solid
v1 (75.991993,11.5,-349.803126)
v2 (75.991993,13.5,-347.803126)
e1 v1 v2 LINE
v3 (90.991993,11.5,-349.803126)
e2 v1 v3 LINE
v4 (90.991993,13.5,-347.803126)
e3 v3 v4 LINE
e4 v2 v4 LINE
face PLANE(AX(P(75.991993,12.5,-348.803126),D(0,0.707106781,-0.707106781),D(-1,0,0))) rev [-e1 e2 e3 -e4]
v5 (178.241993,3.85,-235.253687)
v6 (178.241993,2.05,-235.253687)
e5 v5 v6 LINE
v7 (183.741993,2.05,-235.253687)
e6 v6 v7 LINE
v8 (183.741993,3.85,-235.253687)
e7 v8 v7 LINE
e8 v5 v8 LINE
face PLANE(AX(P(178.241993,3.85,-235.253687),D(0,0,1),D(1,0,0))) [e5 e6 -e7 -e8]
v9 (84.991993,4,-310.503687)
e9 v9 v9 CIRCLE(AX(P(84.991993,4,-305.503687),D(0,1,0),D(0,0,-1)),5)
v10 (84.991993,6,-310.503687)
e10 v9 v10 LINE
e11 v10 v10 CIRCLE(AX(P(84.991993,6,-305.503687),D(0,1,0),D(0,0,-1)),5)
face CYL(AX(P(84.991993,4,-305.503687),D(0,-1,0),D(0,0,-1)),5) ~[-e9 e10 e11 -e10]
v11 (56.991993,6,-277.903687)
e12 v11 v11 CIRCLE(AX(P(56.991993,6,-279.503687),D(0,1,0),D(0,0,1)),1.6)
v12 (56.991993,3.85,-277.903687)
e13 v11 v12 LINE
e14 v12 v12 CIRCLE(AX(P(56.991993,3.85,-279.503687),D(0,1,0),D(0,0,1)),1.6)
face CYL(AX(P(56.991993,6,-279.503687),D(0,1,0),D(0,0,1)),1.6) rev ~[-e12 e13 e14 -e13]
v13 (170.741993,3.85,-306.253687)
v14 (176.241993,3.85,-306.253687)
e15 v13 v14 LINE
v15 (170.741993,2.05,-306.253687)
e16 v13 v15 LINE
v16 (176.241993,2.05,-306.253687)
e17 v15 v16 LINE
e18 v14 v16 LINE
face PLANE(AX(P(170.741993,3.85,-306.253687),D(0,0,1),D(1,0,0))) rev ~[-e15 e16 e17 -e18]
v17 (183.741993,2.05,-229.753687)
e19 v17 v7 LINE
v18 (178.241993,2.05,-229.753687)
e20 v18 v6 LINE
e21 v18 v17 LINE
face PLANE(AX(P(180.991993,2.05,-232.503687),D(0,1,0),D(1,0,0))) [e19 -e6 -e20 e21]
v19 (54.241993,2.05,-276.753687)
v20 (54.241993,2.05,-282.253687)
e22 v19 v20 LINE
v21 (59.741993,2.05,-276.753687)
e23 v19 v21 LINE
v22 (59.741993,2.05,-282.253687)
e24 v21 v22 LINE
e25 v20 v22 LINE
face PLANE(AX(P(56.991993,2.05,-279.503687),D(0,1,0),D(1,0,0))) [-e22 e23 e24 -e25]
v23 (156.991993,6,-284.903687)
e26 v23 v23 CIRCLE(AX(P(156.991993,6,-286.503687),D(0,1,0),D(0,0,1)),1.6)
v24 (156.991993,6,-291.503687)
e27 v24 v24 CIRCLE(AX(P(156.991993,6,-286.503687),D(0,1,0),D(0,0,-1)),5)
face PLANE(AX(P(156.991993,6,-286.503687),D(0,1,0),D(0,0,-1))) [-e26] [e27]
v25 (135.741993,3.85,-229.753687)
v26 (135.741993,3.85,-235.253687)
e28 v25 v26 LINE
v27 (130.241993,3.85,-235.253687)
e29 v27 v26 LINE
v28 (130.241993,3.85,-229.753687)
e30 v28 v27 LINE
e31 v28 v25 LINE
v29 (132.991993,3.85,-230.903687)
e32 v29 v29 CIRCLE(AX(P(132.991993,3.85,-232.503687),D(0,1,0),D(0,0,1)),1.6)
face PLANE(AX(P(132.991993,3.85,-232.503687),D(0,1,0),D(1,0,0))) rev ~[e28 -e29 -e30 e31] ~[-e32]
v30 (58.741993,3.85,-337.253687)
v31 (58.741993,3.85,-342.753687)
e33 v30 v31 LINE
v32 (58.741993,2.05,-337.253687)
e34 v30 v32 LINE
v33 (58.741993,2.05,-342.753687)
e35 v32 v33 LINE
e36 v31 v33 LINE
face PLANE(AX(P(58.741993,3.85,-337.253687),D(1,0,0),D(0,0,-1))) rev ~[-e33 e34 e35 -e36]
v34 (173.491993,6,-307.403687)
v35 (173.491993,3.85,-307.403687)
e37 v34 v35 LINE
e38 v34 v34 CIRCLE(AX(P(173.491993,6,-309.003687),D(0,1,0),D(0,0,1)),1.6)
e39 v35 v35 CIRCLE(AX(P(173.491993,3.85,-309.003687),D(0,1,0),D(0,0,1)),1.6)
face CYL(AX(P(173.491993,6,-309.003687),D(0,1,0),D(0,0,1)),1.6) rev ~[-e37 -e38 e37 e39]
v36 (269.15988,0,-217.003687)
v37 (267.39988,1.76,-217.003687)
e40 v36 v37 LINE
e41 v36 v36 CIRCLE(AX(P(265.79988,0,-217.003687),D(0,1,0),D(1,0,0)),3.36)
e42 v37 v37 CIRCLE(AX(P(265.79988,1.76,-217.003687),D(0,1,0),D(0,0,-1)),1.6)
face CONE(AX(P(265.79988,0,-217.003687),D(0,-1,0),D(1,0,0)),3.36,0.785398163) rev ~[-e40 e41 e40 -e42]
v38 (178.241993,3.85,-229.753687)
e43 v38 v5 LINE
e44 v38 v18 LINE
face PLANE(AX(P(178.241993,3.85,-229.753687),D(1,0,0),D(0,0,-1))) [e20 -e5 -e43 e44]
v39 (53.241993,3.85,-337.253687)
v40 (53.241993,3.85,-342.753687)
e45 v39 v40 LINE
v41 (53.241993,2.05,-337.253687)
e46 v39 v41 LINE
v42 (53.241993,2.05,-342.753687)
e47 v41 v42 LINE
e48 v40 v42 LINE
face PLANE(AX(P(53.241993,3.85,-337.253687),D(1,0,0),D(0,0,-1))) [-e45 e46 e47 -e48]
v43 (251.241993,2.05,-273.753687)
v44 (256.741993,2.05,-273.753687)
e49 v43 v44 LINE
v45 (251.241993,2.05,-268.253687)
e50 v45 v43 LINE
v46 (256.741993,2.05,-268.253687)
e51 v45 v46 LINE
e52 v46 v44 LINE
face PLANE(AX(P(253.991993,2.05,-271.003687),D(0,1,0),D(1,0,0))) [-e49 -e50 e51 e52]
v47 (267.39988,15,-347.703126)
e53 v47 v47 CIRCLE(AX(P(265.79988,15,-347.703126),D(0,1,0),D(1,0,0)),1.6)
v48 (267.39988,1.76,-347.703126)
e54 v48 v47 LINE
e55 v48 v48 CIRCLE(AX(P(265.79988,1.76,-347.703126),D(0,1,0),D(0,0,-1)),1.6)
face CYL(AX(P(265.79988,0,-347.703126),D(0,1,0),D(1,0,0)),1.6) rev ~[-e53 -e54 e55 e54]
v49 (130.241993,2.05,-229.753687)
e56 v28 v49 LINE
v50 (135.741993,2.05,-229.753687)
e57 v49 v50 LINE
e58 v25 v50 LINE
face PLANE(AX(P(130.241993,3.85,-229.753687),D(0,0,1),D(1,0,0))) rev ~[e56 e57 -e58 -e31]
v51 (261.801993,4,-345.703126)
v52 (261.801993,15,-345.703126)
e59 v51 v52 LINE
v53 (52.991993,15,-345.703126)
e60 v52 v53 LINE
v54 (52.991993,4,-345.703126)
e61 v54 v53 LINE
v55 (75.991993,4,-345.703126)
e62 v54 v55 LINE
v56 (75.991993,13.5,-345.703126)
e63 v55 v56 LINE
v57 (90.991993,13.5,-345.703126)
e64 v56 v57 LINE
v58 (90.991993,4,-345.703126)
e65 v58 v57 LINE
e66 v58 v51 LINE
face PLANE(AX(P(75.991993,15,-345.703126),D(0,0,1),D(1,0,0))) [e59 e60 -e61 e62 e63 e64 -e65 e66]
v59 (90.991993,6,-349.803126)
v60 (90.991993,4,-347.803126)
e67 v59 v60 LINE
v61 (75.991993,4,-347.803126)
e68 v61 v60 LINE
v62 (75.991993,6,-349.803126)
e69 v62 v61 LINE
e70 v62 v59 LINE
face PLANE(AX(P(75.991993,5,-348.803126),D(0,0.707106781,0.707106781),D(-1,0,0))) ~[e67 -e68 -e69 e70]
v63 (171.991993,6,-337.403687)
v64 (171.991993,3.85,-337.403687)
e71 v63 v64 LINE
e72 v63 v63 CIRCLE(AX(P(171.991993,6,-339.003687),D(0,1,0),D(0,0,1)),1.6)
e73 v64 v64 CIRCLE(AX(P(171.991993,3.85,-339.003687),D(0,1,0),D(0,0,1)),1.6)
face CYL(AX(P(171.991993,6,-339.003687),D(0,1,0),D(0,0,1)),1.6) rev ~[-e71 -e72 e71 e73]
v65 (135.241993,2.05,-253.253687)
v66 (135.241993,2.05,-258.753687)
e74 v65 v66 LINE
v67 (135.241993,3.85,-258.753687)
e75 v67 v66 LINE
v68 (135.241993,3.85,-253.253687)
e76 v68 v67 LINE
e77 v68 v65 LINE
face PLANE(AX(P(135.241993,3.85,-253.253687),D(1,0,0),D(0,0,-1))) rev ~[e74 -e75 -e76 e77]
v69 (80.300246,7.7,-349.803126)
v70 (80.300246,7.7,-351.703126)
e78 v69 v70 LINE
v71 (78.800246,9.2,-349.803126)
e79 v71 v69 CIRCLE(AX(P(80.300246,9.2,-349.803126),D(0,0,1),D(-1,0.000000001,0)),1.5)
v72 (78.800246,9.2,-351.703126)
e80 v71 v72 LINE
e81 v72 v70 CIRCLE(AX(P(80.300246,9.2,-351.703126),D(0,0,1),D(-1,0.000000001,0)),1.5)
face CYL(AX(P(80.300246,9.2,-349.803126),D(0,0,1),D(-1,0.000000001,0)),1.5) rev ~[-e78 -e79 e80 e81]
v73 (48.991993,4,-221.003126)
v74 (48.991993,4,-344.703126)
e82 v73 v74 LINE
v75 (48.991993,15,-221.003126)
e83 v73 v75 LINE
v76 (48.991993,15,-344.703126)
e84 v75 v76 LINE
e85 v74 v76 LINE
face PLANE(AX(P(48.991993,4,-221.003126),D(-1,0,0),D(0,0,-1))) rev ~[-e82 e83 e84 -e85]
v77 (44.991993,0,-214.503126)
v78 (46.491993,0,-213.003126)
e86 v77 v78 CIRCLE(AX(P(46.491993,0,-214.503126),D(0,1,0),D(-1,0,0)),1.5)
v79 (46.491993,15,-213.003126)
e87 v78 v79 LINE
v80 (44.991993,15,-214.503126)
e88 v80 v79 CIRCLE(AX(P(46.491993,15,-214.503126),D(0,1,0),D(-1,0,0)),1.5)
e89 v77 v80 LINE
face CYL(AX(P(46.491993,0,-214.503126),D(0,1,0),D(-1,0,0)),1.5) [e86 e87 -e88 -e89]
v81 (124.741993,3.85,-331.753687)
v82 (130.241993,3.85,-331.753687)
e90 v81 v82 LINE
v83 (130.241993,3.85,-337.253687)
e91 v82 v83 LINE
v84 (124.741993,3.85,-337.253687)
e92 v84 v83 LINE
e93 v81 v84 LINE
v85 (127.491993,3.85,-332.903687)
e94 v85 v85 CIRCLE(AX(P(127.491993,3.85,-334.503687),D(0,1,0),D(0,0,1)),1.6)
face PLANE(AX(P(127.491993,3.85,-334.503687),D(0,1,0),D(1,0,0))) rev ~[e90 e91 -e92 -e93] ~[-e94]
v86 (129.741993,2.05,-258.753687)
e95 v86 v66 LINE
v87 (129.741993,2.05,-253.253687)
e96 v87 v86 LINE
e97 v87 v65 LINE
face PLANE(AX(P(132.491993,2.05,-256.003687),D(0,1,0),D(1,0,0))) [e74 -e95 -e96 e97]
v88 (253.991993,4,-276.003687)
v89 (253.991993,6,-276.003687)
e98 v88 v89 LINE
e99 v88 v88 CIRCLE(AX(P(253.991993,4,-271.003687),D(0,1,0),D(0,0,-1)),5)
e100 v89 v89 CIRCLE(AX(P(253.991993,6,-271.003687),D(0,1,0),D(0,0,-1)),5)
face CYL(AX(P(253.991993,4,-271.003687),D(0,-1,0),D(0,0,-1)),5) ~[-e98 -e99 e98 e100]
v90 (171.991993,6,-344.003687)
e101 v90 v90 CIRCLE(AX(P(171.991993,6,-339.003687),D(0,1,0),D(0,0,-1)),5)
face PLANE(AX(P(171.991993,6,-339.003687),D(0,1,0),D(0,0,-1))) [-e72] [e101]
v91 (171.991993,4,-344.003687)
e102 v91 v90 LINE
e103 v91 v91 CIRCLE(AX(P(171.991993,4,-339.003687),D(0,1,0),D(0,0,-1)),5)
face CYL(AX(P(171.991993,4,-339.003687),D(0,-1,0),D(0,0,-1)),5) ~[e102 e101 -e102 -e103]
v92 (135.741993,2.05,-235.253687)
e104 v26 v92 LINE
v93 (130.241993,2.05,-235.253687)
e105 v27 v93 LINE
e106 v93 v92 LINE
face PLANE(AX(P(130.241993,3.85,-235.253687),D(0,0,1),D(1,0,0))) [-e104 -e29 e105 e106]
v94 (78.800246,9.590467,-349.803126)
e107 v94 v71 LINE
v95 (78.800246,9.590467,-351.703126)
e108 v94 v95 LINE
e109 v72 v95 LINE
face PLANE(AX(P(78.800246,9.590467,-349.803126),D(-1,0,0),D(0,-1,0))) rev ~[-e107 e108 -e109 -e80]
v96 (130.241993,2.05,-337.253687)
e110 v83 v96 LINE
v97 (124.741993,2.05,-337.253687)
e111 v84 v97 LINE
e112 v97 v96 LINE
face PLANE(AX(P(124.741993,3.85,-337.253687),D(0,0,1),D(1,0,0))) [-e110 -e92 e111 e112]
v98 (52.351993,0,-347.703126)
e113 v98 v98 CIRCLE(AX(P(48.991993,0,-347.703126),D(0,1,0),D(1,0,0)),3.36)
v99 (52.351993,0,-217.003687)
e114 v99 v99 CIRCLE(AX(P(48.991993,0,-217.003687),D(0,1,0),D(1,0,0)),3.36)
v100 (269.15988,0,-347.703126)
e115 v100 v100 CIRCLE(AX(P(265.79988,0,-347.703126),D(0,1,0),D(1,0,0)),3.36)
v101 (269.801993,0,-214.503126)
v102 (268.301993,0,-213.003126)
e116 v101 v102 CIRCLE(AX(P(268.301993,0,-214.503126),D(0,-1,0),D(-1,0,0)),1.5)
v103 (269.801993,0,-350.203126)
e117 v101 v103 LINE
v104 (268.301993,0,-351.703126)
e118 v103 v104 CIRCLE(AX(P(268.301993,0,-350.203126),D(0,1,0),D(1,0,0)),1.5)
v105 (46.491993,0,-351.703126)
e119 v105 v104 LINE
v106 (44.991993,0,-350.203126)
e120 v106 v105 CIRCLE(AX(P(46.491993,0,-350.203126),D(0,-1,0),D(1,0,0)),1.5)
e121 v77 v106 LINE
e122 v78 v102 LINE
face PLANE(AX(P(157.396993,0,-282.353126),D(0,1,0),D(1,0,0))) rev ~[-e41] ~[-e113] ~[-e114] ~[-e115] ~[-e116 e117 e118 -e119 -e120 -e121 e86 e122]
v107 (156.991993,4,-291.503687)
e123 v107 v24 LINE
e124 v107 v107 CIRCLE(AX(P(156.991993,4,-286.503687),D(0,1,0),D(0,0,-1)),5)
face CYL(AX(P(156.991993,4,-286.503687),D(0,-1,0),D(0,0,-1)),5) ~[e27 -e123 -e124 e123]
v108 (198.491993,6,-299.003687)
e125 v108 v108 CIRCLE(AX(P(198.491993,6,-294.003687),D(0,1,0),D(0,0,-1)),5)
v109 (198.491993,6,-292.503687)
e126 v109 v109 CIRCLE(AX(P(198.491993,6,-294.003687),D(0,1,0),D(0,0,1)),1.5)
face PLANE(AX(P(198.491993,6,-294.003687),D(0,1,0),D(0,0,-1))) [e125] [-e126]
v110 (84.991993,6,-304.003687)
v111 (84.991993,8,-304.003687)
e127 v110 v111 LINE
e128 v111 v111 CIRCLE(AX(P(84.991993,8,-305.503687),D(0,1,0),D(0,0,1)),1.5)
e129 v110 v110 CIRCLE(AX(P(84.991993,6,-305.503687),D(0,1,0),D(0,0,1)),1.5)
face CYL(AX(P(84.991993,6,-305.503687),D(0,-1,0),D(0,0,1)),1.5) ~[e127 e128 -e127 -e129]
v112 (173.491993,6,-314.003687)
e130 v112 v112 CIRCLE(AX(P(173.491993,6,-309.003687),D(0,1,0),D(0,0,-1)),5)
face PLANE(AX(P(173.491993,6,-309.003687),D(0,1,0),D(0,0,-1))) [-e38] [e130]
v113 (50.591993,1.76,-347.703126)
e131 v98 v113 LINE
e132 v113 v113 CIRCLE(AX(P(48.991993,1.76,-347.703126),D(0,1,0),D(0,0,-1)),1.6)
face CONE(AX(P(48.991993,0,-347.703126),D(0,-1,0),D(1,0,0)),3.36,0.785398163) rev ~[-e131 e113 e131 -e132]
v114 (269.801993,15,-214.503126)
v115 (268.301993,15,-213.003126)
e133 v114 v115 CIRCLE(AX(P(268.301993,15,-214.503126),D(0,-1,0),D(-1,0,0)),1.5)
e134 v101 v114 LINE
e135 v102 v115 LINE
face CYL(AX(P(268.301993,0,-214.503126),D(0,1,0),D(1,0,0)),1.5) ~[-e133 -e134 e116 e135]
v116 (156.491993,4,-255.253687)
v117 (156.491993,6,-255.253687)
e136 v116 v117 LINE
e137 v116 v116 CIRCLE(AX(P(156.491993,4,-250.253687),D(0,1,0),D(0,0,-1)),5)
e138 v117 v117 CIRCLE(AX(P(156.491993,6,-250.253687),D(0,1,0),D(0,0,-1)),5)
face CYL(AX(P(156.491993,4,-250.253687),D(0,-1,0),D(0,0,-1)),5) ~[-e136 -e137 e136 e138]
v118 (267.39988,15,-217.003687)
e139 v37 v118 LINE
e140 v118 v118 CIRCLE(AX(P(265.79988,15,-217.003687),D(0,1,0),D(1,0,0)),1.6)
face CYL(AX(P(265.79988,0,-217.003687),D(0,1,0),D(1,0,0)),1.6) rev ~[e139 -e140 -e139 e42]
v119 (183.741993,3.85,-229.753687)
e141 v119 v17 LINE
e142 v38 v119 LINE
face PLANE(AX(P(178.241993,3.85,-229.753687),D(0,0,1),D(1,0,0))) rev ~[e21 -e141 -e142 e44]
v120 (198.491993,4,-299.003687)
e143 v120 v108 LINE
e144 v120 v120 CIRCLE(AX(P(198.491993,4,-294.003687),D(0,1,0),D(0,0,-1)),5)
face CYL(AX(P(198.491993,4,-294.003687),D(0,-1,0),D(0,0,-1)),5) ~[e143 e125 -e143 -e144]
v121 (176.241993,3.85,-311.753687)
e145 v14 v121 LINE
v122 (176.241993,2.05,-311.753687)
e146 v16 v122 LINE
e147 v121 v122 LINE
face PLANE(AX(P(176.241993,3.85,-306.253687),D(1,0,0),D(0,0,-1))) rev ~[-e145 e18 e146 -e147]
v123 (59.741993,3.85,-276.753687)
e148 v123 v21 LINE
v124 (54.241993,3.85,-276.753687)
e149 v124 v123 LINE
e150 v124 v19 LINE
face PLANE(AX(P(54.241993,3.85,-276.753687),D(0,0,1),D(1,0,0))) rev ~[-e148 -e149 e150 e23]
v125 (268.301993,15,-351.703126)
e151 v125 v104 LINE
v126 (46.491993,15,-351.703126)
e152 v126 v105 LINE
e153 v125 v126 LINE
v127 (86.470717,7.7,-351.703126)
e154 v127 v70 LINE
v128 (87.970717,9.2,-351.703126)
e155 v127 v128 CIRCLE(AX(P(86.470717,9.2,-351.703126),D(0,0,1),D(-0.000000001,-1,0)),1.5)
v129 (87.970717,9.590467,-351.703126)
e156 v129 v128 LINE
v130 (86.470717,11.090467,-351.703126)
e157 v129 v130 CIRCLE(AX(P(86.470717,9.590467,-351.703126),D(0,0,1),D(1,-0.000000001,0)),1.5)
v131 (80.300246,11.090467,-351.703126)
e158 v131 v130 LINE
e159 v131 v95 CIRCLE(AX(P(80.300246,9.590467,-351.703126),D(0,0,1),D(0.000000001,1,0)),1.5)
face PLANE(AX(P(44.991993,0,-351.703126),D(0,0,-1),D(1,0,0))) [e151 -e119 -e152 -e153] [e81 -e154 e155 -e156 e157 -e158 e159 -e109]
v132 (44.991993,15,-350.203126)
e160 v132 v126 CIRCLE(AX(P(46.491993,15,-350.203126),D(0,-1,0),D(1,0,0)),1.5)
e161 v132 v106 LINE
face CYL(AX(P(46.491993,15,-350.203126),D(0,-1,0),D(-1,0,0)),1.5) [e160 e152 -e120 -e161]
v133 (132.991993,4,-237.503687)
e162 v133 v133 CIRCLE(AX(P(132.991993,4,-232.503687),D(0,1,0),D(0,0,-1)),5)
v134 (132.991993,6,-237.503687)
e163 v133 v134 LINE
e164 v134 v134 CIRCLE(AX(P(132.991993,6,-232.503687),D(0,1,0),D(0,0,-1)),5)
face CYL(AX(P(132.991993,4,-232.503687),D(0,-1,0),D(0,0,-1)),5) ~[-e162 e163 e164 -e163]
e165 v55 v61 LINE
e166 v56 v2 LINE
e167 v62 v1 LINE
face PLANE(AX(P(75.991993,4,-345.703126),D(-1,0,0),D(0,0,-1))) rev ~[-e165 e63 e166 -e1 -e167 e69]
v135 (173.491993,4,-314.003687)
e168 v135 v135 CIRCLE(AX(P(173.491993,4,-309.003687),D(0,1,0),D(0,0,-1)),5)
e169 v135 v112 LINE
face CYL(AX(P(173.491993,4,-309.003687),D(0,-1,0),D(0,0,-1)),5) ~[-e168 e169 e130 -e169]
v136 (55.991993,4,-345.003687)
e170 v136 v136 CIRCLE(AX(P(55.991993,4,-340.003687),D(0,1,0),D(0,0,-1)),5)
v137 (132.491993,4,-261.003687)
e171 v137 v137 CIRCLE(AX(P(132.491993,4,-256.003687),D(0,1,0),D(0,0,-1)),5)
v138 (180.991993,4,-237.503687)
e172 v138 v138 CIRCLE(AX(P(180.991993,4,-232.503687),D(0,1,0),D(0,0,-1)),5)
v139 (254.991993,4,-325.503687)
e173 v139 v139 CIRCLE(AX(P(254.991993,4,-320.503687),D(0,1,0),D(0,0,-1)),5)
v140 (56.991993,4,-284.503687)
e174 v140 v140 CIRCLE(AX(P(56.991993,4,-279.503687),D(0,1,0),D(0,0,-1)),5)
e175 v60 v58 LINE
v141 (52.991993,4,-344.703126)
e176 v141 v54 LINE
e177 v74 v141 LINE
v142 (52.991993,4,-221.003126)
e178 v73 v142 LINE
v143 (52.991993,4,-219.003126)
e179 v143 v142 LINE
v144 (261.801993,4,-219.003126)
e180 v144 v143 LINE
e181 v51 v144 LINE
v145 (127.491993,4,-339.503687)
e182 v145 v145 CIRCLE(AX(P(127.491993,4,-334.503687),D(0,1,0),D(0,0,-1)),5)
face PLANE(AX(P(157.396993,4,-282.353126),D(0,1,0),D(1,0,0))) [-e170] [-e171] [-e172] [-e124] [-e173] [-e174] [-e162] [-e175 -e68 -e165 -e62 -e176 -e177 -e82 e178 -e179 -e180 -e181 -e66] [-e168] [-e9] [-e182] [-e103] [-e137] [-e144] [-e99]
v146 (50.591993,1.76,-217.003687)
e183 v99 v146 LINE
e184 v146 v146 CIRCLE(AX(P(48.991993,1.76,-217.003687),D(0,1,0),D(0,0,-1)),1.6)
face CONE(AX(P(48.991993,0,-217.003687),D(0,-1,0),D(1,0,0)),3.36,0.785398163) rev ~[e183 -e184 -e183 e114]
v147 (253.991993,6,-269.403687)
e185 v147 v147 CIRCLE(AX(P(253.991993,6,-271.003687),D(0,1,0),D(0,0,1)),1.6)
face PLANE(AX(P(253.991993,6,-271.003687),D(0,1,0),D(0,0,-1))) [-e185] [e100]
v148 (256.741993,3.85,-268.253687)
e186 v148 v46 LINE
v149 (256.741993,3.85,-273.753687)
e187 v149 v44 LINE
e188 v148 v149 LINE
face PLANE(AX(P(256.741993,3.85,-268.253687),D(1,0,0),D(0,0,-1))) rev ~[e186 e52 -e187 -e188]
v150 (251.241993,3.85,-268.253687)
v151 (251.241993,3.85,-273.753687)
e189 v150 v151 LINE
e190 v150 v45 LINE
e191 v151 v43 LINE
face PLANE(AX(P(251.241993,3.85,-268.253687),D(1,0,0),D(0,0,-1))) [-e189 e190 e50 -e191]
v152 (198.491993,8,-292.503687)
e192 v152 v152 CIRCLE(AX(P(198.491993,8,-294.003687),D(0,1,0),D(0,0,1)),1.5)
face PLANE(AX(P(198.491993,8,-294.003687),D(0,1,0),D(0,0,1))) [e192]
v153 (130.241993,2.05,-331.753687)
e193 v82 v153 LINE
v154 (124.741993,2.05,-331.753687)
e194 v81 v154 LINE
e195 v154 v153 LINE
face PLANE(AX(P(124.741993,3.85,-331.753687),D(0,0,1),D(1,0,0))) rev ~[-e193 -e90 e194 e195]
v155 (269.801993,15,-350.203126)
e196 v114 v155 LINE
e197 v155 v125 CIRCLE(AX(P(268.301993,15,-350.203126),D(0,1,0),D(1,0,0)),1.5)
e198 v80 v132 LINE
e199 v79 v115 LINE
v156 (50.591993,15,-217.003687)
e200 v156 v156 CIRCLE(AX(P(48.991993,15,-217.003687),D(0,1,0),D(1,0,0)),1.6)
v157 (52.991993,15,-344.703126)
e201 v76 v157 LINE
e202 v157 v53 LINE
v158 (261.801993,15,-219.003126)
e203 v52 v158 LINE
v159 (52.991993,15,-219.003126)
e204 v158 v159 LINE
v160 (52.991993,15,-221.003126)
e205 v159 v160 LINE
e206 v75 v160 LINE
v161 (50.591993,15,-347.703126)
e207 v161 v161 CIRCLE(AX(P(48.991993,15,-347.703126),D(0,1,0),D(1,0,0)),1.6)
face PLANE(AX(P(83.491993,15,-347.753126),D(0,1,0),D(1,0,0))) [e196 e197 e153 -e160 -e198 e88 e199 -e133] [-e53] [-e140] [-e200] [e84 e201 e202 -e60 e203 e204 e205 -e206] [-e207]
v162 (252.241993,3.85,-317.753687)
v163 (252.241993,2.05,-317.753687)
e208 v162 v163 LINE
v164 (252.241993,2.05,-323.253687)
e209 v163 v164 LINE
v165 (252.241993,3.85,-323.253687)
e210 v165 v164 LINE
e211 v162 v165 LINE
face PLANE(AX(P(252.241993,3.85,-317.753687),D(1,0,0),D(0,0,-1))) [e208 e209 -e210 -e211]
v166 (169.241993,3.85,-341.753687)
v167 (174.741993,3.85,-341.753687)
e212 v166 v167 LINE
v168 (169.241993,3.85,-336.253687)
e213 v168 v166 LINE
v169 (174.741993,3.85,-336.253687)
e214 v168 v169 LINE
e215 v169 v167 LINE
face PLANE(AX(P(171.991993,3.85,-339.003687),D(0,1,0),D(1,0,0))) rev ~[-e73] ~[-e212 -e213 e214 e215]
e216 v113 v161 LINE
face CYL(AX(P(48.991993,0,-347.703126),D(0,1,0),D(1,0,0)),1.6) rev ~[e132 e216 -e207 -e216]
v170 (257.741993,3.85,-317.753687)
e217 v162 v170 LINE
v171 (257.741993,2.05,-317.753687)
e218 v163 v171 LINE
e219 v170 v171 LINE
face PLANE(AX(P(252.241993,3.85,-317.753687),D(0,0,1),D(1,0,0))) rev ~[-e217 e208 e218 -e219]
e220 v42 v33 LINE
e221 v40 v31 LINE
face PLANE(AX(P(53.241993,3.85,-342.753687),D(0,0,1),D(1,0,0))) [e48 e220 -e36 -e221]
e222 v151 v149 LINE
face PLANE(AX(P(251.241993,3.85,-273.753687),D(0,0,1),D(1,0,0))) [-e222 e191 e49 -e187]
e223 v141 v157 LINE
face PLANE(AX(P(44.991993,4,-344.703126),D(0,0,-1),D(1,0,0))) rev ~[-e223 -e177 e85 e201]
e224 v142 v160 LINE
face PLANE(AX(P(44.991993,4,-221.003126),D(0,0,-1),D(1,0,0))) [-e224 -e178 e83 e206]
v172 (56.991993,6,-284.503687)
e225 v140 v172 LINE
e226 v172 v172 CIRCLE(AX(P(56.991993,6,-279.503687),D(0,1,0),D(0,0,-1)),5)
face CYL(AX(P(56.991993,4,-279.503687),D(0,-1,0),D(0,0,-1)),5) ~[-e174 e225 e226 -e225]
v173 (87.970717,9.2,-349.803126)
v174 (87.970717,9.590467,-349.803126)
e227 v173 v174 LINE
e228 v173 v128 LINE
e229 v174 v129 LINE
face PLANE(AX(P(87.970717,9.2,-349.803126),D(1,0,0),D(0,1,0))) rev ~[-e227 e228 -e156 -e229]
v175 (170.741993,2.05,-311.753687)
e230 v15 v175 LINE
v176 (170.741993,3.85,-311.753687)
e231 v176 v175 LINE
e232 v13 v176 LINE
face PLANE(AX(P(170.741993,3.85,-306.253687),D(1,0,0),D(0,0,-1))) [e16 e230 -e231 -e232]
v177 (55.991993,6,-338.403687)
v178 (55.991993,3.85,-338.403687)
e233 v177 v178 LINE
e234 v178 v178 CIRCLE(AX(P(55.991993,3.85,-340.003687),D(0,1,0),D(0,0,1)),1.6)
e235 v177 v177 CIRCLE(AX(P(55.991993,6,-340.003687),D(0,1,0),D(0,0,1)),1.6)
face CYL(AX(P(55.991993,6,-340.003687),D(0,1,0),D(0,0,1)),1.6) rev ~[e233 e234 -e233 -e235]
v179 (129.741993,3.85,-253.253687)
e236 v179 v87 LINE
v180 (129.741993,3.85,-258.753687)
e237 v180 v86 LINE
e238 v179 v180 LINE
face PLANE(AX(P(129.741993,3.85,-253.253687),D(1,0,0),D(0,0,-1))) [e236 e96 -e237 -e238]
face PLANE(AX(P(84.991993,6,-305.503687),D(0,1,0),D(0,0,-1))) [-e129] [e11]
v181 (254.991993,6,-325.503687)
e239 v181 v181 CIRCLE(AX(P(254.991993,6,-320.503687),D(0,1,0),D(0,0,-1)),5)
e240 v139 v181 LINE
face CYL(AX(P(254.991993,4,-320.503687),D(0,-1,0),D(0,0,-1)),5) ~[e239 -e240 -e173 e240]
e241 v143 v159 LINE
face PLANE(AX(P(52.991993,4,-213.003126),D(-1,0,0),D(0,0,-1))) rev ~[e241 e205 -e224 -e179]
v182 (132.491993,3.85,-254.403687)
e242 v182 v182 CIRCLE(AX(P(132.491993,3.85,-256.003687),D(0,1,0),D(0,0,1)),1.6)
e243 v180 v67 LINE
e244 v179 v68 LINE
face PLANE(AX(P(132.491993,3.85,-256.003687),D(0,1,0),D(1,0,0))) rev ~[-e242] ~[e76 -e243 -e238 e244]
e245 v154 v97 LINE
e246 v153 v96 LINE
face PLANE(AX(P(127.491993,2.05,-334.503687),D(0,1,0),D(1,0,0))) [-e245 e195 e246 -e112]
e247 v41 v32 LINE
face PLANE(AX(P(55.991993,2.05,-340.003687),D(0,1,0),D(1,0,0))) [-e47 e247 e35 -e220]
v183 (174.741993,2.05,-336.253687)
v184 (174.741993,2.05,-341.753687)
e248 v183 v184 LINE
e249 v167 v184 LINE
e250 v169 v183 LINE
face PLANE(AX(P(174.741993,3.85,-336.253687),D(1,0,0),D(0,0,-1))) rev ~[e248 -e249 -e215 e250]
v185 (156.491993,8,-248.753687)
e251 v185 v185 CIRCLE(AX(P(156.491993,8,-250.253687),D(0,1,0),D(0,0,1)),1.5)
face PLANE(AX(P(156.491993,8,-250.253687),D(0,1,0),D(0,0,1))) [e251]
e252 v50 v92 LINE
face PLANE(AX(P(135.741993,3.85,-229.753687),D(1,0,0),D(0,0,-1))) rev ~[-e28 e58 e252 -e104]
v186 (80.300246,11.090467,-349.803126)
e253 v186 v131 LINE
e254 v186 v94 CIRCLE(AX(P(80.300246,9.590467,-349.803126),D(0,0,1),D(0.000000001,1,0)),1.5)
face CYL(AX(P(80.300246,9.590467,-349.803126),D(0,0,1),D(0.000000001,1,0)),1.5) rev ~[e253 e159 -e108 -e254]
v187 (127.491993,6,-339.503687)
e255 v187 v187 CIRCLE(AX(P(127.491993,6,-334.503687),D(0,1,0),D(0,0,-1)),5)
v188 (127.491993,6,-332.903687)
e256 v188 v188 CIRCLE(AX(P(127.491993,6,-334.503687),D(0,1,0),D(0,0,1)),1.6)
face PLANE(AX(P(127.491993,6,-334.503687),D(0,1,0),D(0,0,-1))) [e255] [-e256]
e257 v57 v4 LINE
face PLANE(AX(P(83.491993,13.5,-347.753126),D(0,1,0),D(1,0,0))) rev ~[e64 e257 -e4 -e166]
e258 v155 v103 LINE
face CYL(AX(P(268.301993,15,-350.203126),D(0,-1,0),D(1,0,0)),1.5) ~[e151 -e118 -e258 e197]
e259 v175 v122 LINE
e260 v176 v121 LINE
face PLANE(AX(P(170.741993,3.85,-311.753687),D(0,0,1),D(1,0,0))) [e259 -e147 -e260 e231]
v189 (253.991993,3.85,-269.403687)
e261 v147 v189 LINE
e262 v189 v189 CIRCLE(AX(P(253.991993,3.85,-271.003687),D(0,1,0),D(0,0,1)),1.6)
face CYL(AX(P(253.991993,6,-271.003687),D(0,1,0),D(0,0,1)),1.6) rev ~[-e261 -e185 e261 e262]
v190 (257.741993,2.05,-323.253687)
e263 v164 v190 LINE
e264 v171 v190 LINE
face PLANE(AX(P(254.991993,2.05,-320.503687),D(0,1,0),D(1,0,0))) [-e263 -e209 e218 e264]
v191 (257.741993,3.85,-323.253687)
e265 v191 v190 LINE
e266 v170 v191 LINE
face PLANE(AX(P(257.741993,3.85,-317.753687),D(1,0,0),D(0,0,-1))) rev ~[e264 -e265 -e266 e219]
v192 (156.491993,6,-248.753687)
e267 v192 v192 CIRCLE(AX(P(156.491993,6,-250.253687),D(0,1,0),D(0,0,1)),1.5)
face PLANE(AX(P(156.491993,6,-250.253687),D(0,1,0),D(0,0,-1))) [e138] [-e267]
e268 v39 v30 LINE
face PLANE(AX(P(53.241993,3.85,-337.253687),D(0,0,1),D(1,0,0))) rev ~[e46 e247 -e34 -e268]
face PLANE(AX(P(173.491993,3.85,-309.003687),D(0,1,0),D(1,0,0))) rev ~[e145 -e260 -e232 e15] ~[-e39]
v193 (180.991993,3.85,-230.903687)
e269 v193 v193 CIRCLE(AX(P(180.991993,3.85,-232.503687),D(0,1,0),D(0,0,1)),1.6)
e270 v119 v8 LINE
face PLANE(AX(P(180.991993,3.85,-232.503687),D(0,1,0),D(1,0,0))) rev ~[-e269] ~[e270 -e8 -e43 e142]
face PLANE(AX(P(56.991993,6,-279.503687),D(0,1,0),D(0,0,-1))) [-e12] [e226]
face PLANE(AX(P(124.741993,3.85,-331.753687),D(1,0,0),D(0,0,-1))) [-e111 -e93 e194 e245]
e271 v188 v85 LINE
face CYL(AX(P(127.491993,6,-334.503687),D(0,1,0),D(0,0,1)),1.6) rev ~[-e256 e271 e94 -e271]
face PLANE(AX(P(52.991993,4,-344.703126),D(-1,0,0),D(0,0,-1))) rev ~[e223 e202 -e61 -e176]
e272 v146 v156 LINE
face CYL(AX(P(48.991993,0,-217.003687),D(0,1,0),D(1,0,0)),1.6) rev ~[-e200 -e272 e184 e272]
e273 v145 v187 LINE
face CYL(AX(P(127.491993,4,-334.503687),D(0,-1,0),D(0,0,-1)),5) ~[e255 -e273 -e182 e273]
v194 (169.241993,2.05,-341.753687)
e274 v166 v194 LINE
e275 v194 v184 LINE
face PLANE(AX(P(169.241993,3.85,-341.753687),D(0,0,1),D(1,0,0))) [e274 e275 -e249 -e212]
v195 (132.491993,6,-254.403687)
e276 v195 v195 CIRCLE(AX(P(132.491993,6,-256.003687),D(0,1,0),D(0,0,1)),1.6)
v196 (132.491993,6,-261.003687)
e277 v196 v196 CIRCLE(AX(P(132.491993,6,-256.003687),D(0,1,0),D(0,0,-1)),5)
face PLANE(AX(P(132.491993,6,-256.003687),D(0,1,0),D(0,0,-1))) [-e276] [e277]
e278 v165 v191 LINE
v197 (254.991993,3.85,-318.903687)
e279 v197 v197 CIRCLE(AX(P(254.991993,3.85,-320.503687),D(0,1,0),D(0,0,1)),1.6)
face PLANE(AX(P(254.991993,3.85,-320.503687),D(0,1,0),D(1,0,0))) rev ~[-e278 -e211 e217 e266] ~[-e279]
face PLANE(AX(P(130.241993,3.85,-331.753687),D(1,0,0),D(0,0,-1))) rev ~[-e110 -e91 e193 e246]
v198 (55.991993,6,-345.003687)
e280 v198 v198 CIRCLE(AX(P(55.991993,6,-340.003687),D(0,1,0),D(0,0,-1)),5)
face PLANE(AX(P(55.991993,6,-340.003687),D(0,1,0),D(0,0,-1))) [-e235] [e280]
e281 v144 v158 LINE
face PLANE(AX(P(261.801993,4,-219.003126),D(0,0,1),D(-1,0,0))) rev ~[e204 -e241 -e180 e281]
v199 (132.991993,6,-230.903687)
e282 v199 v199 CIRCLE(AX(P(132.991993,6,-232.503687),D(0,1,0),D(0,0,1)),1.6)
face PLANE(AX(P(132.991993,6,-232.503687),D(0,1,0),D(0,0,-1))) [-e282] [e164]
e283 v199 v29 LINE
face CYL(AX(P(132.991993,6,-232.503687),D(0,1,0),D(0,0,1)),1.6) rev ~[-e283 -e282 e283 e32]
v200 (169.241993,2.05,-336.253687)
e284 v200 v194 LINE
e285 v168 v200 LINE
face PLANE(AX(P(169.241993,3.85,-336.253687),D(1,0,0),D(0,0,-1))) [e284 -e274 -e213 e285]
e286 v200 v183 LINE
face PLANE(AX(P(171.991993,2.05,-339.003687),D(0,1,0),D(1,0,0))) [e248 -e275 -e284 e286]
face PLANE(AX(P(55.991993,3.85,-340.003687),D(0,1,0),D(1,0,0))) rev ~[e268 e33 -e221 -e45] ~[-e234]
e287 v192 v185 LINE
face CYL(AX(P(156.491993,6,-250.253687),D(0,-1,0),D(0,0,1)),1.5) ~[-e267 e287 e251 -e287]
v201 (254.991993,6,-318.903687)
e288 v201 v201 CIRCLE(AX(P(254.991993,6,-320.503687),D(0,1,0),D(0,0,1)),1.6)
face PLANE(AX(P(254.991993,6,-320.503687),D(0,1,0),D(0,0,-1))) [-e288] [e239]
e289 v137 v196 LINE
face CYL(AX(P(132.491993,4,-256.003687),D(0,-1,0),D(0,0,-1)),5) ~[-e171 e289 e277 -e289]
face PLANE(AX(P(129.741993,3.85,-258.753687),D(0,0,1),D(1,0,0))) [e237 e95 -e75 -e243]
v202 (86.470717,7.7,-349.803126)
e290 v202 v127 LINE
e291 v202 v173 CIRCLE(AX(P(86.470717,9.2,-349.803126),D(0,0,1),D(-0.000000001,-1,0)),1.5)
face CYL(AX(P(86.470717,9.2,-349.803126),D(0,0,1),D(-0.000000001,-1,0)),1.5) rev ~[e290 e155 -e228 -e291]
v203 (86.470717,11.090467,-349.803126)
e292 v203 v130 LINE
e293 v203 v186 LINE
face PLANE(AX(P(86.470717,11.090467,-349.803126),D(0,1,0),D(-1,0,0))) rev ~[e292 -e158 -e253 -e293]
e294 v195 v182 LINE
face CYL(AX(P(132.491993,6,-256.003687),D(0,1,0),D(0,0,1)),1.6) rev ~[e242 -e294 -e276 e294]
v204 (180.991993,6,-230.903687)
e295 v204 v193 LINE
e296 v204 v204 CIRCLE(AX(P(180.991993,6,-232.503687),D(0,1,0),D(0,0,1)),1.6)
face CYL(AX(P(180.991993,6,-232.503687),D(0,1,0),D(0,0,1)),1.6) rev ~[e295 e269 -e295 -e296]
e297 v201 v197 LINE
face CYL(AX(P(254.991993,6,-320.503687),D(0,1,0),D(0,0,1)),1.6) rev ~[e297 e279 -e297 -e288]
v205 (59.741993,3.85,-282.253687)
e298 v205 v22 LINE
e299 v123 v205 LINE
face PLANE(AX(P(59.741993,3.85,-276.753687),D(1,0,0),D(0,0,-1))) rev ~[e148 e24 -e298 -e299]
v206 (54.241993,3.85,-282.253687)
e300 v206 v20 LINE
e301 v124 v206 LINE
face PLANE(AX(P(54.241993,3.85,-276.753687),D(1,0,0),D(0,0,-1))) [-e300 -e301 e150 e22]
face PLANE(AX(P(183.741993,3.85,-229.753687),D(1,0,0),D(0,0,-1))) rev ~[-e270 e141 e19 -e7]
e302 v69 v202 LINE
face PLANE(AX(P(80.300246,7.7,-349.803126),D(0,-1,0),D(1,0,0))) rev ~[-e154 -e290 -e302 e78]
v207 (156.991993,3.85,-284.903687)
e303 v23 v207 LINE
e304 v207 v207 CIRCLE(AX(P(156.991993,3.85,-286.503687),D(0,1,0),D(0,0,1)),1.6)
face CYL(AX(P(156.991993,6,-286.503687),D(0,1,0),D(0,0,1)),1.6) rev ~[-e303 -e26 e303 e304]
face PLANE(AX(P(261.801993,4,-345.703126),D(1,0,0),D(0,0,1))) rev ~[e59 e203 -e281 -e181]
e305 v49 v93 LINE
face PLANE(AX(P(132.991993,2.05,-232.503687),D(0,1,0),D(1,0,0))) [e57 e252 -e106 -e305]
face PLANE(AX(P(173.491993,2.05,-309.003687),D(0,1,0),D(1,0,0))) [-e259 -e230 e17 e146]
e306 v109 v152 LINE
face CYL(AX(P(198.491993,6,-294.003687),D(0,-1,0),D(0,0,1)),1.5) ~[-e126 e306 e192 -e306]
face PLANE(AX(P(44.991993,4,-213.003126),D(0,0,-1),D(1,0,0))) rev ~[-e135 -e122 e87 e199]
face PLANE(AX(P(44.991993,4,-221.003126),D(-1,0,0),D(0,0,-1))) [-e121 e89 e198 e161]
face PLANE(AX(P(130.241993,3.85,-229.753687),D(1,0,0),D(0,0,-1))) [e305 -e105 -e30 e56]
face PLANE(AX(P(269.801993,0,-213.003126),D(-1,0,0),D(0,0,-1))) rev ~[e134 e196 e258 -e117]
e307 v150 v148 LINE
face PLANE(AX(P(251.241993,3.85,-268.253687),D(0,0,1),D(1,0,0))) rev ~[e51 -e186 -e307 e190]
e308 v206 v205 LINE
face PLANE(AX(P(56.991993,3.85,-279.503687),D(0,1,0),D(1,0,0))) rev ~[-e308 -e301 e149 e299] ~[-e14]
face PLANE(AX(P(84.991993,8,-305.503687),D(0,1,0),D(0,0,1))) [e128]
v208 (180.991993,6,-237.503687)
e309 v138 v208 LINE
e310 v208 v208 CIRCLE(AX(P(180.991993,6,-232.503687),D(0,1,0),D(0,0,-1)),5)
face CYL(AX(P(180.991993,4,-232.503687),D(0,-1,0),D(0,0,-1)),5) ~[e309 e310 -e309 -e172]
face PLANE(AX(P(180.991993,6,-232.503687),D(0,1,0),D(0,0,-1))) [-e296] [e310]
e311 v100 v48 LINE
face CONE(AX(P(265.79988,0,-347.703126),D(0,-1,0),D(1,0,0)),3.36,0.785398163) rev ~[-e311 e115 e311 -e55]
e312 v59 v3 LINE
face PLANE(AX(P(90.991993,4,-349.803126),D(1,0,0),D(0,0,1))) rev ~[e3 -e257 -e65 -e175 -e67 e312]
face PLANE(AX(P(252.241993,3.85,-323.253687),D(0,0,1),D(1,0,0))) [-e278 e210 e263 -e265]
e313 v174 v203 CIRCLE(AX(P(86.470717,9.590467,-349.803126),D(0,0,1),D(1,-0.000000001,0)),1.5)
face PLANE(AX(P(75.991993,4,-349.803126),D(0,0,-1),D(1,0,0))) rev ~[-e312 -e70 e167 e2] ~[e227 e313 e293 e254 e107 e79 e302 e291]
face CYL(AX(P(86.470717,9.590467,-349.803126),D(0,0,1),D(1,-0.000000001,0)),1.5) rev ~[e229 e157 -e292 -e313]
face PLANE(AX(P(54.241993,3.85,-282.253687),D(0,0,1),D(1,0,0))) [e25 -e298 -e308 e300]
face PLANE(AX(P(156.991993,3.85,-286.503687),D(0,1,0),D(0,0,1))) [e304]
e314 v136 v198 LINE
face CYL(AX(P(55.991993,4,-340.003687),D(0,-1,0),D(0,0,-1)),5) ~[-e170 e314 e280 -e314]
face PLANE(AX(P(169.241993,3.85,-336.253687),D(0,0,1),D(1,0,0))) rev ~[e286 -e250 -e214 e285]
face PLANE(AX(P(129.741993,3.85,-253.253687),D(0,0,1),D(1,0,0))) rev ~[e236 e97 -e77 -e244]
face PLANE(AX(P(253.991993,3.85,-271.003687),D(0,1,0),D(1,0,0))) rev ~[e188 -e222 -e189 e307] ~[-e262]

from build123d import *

# Parameters (mm, degrees)
SKETCH1_W                     = 224.81
SKETCH1_H                     = 138.7
BOTTOM_PLATE_DEPTH            = 4
SKETCH2_W                     = 8
SKETCH2_H                     = 8
SKETCH2_W_2                   = 7
SKETCH2_H_2                   = 7
SIDE_WALLS_DEPTH              = 11
SKETCH11_W                    = 4
SKETCH11_H                    = 123.7
USB_CUTOUT_DEPTH              = 11
CSK_FOR_M3_SFHCS1_D           = 3.2
CSK_FOR_M3_SFHCS1_CSINK_D     = 6.72
CSK_FOR_M3_SFHCS1_CSINK_ANGLE = 90
FILLET1_R                     = 1.5
USB_C_PORT_DEPTH              = 10
SKETCH18_W                    = 15
SKETCH18_H                    = 4.1
BOSS_EXTRUDE1_DEPTH           = 1.5
CHAMFER1_SIZE                 = 2
SKETCH16_R                    = 5
PCB_SUPPORT_DEPTH             = 2
SKETCH17_R                    = 1.5
ALIGNMENT_POSTS_DEPTH         = 2
SKETCH20_R                    = 1.6
PCB_SCREW_CLEARANCE_DEPTH     = 2.15
SKETCH21_W                    = 5.5
SKETCH21_H                    = 5.5
CUT_EXTRUDE2_DEPTH            = 1.8


with BuildPart() as part:
    # Sketch1 → bottom_plate (new body)
    with BuildSketch(Plane(origin=(0, 0, 0), x_dir=(1, 0, 0), z_dir=(0, 1, 0))):
        with Locations((157.396993286, 282.353126042)):
            Rectangle(SKETCH1_W, SKETCH1_H)
    extrude(amount=BOTTOM_PLATE_DEPTH)

    # Sketch2 → side_walls (add)
    with BuildSketch(Plane(origin=(0, 4, 0), x_dir=(1, 0, 0), z_dir=(0, 1, 0))):
        with Locations((48.991993286, 217.003126042)):
            Rectangle(SKETCH2_W, SKETCH2_H)
        with Locations((266.301993286, 216.503126042)):
            Rectangle(SKETCH2_W_2, SKETCH2_H_2)
        with Locations((266.301993286, 348.203126042)):
            Rectangle(SKETCH2_W_2, SKETCH2_H_2)
        with Locations((48.991993286, 348.203126042)):
            Rectangle(SKETCH2_W, SKETCH2_H_2)
    extrude(amount=SIDE_WALLS_DEPTH)

    # Sketch11 → usb_cutout (add)
    with BuildSketch(Plane(origin=(0, 4, 0), x_dir=(1, 0, 0), z_dir=(0, 1, 0))):
        with Locations((46.991993286, 282.853126042)):
            Rectangle(SKETCH11_W, SKETCH11_H)
        Polygon((52.991993286, 213.003126042), (262.801993286, 213.003126042), (262.801993286, 219.003126042), (269.801993286, 219.003126042), (269.801993286, 345.703126042), (262.801993286, 345.703126042), (262.801993286, 351.703126042), (52.991993286, 351.703126042), (52.991993286, 345.703126042), (75.991993286, 345.703126042), (75.991993286, 349.803126042), (90.991993286, 349.803126042), (90.991993286, 345.703126042), (261.801993286, 345.703126042), (261.801993286, 219.003126042), (52.991993286, 219.003126042), align=None)
    extrude(amount=USB_CUTOUT_DEPTH)

    # CSK for M3 SFHCS1 (through all)
    with Locations(Plane(origin=(0, 0, 0), x_dir=(-1, 0, 0), z_dir=(0, -1, 0))):
        with Locations((-48.991993286, 217.003686618), (-265.799879733, 217.003686618), (-265.799879733, 347.703126042), (-48.991993286, 347.703126042)):
            CounterSinkHole(CSK_FOR_M3_SFHCS1_D / 2, CSK_FOR_M3_SFHCS1_CSINK_D / 2, counter_sink_angle=CSK_FOR_M3_SFHCS1_CSINK_ANGLE)

    # Fillet1
    fillet1_edges = [part.edges().sort_by_distance(p)[0] for p in [
        (44.991993286, 7.5, -351.703126042),
        (269.801993286, 7.5, -351.703126042),
        (269.801993286, 7.5, -213.003126042),
        (44.991993286, 7.5, -213.003126042),
    ]]
    fillet(fillet1_edges, radius=FILLET1_R)

    # Sketch14 → usb-c port (cut)
    with BuildSketch(Plane.XY.offset(-349.803126042)):
        with BuildLine():
            Line((80.300245901, 7.7), (86.470717131, 7.7))
            ThreePointArc((86.470717131, 7.7), (87.531377303, 8.139339828), (87.970717131, 9.2))
            Line((87.970717131, 9.2), (87.970717131, 9.590467347))
            ThreePointArc((87.970717131, 9.590467347), (87.531377303, 10.651127519), (86.470717131, 11.090467347))
            Line((86.470717131, 11.090467347), (80.300245901, 11.090467347))
            ThreePointArc((80.300245901, 11.090467347), (79.239585729, 10.651127519), (78.800245901, 9.590467347))
            Line((78.800245901, 9.590467347), (78.800245901, 9.2))
            ThreePointArc((78.800245901, 9.2), (79.239585729, 8.139339828), (80.300245901, 7.7))
        make_face()
    extrude(amount=-USB_C_PORT_DEPTH, mode=Mode.SUBTRACT)

    # Sketch18 → Boss-Extrude1 (add)
    with BuildSketch(Plane(origin=(0, 15, 0), x_dir=(1, 0, 0), z_dir=(0, 1, 0))):
        with Locations((83.491993286, 347.753126042)):
            Rectangle(SKETCH18_W, SKETCH18_H)
    extrude(amount=-BOSS_EXTRUDE1_DEPTH)

    # Chamfer1
    chamfer1_edges = [part.edges().sort_by_distance(p)[0] for p in [
        (83.491993286, 13.5, -349.803126042),
        (83.491993286, 4, -349.803126042),
    ]]
    chamfer(chamfer1_edges, length=CHAMFER1_SIZE)

    # Sketch16 → pcb_support (add)
    with BuildSketch(Plane(origin=(0, 4, 0), x_dir=(1, 0, 0), z_dir=(0, 1, 0))):
        with Locations(Location((55.991993286, 340.003687101, 0), (0, 0, 90))):
            Circle(SKETCH16_R)
        with Locations(Location((56.991993286, 279.503687101, 0), (0, 0, 90))):
            Circle(SKETCH16_R)
        with Locations(Location((132.491993286, 256.003687101, 0), (0, 0, 90))):
            Circle(SKETCH16_R)
        with Locations(Location((253.991993286, 271.003687101, 0), (0, 0, 90))):
            Circle(SKETCH16_R)
        with Locations(Location((254.991993286, 320.503687101, 0), (0, 0, 90))):
            Circle(SKETCH16_R)
        with Locations(Location((156.991993286, 286.503687101, 0), (0, 0, 90))):
            Circle(SKETCH16_R)
        with Locations(Location((171.991993286, 339.003687101, 0), (0, 0, 90))):
            Circle(SKETCH16_R)
        with Locations(Location((127.491993286, 334.503687101, 0), (0, 0, 90))):
            Circle(SKETCH16_R)
        with Locations(Location((173.491993286, 309.003687101, 0), (0, 0, 90))):
            Circle(SKETCH16_R)
        with Locations(Location((198.491993286, 294.003687101, 0), (0, 0, 90))):
            Circle(SKETCH16_R)
        with Locations(Location((180.991993286, 232.503687101, 0), (0, 0, 90))):
            Circle(SKETCH16_R)
        with Locations(Location((84.991993286, 305.503687101, 0), (0, 0, 90))):
            Circle(SKETCH16_R)
        with Locations(Location((156.491993286, 250.253687101, 0), (0, 0, 90))):
            Circle(SKETCH16_R)
        with Locations(Location((132.991993286, 232.503687101, 0), (0, 0, 90))):
            Circle(SKETCH16_R)
    extrude(amount=PCB_SUPPORT_DEPTH)

    # Sketch17 → alignment_posts (add)
    with BuildSketch(Plane(origin=(0, 6, 0), x_dir=(1, 0, 0), z_dir=(0, 1, 0))):
        with Locations(Location((84.991993286, 305.503687101, 0), (0, 0, 270))):
            Circle(SKETCH17_R)
        with Locations(Location((198.491993286, 294.003687101, 0), (0, 0, 270))):
            Circle(SKETCH17_R)
        with Locations(Location((156.491993286, 250.253687101, 0), (0, 0, 270))):
            Circle(SKETCH17_R)
    extrude(amount=ALIGNMENT_POSTS_DEPTH)

    # Sketch20 → pcb screw clearance (cut)
    with BuildSketch(Plane(origin=(0, 6, 0), x_dir=(1, 0, 0), z_dir=(0, 1, 0))):
        with Locations(Location((55.991993286, 340.003687101, 0), (0, 0, 270))):
            Circle(SKETCH20_R)
        with Locations(Location((127.491993286, 334.503687101, 0), (0, 0, 270))):
            Circle(SKETCH20_R)
        with Locations(Location((56.991993286, 279.503687101, 0), (0, 0, 270))):
            Circle(SKETCH20_R)
        with Locations(Location((132.491993286, 256.003687101, 0), (0, 0, 270))):
            Circle(SKETCH20_R)
        with Locations(Location((132.991993286, 232.503687101, 0), (0, 0, 270))):
            Circle(SKETCH20_R)
        with Locations(Location((180.991993286, 232.503687101, 0), (0, 0, 270))):
            Circle(SKETCH20_R)
        with Locations(Location((156.991993286, 286.503687101, 0), (0, 0, 270))):
            Circle(SKETCH20_R)
        with Locations(Location((253.991993286, 271.003687101, 0), (0, 0, 270))):
            Circle(SKETCH20_R)
        with Locations(Location((173.491993286, 309.003687101, 0), (0, 0, 270))):
            Circle(SKETCH20_R)
        with Locations(Location((171.991993286, 339.003687101, 0), (0, 0, 270))):
            Circle(SKETCH20_R)
        with Locations(Location((254.991993286, 320.503687101, 0), (0, 0, 270))):
            Circle(SKETCH20_R)
    extrude(amount=-PCB_SCREW_CLEARANCE_DEPTH, mode=Mode.SUBTRACT)

    # Sketch21 → Cut-Extrude2 (cut)
    with BuildSketch(Plane(origin=(0, 3.85, 0), x_dir=(1, 0, 0), z_dir=(0, 1, 0))):
        with Locations((55.991993286, 340.003687101)):
            Rectangle(SKETCH21_W, SKETCH21_H)
        with Locations((127.491993286, 334.503687101)):
            Rectangle(SKETCH21_W, SKETCH21_H)
        with Locations((56.991993286, 279.503687101)):
            Rectangle(SKETCH21_W, SKETCH21_H)
        with Locations((132.491993286, 256.003687101)):
            Rectangle(SKETCH21_W, SKETCH21_H)
        with Locations((132.991993286, 232.503687101)):
            Rectangle(SKETCH21_W, SKETCH21_H)
        with Locations((180.991993286, 232.503687101)):
            Rectangle(SKETCH21_W, SKETCH21_H)
        with Locations((253.991993286, 271.003687101)):
            Rectangle(SKETCH21_W, SKETCH21_H)
        with Locations((173.491993286, 309.003687101)):
            Rectangle(SKETCH21_W, SKETCH21_H)
        with Locations((171.991993286, 339.003687101)):
            Rectangle(SKETCH21_W, SKETCH21_H)
        with Locations((254.991993286, 320.503687101)):
            Rectangle(SKETCH21_W, SKETCH21_H)
    extrude(amount=-CUT_EXTRUDE2_DEPTH, mode=Mode.SUBTRACT)


solid = part.part
